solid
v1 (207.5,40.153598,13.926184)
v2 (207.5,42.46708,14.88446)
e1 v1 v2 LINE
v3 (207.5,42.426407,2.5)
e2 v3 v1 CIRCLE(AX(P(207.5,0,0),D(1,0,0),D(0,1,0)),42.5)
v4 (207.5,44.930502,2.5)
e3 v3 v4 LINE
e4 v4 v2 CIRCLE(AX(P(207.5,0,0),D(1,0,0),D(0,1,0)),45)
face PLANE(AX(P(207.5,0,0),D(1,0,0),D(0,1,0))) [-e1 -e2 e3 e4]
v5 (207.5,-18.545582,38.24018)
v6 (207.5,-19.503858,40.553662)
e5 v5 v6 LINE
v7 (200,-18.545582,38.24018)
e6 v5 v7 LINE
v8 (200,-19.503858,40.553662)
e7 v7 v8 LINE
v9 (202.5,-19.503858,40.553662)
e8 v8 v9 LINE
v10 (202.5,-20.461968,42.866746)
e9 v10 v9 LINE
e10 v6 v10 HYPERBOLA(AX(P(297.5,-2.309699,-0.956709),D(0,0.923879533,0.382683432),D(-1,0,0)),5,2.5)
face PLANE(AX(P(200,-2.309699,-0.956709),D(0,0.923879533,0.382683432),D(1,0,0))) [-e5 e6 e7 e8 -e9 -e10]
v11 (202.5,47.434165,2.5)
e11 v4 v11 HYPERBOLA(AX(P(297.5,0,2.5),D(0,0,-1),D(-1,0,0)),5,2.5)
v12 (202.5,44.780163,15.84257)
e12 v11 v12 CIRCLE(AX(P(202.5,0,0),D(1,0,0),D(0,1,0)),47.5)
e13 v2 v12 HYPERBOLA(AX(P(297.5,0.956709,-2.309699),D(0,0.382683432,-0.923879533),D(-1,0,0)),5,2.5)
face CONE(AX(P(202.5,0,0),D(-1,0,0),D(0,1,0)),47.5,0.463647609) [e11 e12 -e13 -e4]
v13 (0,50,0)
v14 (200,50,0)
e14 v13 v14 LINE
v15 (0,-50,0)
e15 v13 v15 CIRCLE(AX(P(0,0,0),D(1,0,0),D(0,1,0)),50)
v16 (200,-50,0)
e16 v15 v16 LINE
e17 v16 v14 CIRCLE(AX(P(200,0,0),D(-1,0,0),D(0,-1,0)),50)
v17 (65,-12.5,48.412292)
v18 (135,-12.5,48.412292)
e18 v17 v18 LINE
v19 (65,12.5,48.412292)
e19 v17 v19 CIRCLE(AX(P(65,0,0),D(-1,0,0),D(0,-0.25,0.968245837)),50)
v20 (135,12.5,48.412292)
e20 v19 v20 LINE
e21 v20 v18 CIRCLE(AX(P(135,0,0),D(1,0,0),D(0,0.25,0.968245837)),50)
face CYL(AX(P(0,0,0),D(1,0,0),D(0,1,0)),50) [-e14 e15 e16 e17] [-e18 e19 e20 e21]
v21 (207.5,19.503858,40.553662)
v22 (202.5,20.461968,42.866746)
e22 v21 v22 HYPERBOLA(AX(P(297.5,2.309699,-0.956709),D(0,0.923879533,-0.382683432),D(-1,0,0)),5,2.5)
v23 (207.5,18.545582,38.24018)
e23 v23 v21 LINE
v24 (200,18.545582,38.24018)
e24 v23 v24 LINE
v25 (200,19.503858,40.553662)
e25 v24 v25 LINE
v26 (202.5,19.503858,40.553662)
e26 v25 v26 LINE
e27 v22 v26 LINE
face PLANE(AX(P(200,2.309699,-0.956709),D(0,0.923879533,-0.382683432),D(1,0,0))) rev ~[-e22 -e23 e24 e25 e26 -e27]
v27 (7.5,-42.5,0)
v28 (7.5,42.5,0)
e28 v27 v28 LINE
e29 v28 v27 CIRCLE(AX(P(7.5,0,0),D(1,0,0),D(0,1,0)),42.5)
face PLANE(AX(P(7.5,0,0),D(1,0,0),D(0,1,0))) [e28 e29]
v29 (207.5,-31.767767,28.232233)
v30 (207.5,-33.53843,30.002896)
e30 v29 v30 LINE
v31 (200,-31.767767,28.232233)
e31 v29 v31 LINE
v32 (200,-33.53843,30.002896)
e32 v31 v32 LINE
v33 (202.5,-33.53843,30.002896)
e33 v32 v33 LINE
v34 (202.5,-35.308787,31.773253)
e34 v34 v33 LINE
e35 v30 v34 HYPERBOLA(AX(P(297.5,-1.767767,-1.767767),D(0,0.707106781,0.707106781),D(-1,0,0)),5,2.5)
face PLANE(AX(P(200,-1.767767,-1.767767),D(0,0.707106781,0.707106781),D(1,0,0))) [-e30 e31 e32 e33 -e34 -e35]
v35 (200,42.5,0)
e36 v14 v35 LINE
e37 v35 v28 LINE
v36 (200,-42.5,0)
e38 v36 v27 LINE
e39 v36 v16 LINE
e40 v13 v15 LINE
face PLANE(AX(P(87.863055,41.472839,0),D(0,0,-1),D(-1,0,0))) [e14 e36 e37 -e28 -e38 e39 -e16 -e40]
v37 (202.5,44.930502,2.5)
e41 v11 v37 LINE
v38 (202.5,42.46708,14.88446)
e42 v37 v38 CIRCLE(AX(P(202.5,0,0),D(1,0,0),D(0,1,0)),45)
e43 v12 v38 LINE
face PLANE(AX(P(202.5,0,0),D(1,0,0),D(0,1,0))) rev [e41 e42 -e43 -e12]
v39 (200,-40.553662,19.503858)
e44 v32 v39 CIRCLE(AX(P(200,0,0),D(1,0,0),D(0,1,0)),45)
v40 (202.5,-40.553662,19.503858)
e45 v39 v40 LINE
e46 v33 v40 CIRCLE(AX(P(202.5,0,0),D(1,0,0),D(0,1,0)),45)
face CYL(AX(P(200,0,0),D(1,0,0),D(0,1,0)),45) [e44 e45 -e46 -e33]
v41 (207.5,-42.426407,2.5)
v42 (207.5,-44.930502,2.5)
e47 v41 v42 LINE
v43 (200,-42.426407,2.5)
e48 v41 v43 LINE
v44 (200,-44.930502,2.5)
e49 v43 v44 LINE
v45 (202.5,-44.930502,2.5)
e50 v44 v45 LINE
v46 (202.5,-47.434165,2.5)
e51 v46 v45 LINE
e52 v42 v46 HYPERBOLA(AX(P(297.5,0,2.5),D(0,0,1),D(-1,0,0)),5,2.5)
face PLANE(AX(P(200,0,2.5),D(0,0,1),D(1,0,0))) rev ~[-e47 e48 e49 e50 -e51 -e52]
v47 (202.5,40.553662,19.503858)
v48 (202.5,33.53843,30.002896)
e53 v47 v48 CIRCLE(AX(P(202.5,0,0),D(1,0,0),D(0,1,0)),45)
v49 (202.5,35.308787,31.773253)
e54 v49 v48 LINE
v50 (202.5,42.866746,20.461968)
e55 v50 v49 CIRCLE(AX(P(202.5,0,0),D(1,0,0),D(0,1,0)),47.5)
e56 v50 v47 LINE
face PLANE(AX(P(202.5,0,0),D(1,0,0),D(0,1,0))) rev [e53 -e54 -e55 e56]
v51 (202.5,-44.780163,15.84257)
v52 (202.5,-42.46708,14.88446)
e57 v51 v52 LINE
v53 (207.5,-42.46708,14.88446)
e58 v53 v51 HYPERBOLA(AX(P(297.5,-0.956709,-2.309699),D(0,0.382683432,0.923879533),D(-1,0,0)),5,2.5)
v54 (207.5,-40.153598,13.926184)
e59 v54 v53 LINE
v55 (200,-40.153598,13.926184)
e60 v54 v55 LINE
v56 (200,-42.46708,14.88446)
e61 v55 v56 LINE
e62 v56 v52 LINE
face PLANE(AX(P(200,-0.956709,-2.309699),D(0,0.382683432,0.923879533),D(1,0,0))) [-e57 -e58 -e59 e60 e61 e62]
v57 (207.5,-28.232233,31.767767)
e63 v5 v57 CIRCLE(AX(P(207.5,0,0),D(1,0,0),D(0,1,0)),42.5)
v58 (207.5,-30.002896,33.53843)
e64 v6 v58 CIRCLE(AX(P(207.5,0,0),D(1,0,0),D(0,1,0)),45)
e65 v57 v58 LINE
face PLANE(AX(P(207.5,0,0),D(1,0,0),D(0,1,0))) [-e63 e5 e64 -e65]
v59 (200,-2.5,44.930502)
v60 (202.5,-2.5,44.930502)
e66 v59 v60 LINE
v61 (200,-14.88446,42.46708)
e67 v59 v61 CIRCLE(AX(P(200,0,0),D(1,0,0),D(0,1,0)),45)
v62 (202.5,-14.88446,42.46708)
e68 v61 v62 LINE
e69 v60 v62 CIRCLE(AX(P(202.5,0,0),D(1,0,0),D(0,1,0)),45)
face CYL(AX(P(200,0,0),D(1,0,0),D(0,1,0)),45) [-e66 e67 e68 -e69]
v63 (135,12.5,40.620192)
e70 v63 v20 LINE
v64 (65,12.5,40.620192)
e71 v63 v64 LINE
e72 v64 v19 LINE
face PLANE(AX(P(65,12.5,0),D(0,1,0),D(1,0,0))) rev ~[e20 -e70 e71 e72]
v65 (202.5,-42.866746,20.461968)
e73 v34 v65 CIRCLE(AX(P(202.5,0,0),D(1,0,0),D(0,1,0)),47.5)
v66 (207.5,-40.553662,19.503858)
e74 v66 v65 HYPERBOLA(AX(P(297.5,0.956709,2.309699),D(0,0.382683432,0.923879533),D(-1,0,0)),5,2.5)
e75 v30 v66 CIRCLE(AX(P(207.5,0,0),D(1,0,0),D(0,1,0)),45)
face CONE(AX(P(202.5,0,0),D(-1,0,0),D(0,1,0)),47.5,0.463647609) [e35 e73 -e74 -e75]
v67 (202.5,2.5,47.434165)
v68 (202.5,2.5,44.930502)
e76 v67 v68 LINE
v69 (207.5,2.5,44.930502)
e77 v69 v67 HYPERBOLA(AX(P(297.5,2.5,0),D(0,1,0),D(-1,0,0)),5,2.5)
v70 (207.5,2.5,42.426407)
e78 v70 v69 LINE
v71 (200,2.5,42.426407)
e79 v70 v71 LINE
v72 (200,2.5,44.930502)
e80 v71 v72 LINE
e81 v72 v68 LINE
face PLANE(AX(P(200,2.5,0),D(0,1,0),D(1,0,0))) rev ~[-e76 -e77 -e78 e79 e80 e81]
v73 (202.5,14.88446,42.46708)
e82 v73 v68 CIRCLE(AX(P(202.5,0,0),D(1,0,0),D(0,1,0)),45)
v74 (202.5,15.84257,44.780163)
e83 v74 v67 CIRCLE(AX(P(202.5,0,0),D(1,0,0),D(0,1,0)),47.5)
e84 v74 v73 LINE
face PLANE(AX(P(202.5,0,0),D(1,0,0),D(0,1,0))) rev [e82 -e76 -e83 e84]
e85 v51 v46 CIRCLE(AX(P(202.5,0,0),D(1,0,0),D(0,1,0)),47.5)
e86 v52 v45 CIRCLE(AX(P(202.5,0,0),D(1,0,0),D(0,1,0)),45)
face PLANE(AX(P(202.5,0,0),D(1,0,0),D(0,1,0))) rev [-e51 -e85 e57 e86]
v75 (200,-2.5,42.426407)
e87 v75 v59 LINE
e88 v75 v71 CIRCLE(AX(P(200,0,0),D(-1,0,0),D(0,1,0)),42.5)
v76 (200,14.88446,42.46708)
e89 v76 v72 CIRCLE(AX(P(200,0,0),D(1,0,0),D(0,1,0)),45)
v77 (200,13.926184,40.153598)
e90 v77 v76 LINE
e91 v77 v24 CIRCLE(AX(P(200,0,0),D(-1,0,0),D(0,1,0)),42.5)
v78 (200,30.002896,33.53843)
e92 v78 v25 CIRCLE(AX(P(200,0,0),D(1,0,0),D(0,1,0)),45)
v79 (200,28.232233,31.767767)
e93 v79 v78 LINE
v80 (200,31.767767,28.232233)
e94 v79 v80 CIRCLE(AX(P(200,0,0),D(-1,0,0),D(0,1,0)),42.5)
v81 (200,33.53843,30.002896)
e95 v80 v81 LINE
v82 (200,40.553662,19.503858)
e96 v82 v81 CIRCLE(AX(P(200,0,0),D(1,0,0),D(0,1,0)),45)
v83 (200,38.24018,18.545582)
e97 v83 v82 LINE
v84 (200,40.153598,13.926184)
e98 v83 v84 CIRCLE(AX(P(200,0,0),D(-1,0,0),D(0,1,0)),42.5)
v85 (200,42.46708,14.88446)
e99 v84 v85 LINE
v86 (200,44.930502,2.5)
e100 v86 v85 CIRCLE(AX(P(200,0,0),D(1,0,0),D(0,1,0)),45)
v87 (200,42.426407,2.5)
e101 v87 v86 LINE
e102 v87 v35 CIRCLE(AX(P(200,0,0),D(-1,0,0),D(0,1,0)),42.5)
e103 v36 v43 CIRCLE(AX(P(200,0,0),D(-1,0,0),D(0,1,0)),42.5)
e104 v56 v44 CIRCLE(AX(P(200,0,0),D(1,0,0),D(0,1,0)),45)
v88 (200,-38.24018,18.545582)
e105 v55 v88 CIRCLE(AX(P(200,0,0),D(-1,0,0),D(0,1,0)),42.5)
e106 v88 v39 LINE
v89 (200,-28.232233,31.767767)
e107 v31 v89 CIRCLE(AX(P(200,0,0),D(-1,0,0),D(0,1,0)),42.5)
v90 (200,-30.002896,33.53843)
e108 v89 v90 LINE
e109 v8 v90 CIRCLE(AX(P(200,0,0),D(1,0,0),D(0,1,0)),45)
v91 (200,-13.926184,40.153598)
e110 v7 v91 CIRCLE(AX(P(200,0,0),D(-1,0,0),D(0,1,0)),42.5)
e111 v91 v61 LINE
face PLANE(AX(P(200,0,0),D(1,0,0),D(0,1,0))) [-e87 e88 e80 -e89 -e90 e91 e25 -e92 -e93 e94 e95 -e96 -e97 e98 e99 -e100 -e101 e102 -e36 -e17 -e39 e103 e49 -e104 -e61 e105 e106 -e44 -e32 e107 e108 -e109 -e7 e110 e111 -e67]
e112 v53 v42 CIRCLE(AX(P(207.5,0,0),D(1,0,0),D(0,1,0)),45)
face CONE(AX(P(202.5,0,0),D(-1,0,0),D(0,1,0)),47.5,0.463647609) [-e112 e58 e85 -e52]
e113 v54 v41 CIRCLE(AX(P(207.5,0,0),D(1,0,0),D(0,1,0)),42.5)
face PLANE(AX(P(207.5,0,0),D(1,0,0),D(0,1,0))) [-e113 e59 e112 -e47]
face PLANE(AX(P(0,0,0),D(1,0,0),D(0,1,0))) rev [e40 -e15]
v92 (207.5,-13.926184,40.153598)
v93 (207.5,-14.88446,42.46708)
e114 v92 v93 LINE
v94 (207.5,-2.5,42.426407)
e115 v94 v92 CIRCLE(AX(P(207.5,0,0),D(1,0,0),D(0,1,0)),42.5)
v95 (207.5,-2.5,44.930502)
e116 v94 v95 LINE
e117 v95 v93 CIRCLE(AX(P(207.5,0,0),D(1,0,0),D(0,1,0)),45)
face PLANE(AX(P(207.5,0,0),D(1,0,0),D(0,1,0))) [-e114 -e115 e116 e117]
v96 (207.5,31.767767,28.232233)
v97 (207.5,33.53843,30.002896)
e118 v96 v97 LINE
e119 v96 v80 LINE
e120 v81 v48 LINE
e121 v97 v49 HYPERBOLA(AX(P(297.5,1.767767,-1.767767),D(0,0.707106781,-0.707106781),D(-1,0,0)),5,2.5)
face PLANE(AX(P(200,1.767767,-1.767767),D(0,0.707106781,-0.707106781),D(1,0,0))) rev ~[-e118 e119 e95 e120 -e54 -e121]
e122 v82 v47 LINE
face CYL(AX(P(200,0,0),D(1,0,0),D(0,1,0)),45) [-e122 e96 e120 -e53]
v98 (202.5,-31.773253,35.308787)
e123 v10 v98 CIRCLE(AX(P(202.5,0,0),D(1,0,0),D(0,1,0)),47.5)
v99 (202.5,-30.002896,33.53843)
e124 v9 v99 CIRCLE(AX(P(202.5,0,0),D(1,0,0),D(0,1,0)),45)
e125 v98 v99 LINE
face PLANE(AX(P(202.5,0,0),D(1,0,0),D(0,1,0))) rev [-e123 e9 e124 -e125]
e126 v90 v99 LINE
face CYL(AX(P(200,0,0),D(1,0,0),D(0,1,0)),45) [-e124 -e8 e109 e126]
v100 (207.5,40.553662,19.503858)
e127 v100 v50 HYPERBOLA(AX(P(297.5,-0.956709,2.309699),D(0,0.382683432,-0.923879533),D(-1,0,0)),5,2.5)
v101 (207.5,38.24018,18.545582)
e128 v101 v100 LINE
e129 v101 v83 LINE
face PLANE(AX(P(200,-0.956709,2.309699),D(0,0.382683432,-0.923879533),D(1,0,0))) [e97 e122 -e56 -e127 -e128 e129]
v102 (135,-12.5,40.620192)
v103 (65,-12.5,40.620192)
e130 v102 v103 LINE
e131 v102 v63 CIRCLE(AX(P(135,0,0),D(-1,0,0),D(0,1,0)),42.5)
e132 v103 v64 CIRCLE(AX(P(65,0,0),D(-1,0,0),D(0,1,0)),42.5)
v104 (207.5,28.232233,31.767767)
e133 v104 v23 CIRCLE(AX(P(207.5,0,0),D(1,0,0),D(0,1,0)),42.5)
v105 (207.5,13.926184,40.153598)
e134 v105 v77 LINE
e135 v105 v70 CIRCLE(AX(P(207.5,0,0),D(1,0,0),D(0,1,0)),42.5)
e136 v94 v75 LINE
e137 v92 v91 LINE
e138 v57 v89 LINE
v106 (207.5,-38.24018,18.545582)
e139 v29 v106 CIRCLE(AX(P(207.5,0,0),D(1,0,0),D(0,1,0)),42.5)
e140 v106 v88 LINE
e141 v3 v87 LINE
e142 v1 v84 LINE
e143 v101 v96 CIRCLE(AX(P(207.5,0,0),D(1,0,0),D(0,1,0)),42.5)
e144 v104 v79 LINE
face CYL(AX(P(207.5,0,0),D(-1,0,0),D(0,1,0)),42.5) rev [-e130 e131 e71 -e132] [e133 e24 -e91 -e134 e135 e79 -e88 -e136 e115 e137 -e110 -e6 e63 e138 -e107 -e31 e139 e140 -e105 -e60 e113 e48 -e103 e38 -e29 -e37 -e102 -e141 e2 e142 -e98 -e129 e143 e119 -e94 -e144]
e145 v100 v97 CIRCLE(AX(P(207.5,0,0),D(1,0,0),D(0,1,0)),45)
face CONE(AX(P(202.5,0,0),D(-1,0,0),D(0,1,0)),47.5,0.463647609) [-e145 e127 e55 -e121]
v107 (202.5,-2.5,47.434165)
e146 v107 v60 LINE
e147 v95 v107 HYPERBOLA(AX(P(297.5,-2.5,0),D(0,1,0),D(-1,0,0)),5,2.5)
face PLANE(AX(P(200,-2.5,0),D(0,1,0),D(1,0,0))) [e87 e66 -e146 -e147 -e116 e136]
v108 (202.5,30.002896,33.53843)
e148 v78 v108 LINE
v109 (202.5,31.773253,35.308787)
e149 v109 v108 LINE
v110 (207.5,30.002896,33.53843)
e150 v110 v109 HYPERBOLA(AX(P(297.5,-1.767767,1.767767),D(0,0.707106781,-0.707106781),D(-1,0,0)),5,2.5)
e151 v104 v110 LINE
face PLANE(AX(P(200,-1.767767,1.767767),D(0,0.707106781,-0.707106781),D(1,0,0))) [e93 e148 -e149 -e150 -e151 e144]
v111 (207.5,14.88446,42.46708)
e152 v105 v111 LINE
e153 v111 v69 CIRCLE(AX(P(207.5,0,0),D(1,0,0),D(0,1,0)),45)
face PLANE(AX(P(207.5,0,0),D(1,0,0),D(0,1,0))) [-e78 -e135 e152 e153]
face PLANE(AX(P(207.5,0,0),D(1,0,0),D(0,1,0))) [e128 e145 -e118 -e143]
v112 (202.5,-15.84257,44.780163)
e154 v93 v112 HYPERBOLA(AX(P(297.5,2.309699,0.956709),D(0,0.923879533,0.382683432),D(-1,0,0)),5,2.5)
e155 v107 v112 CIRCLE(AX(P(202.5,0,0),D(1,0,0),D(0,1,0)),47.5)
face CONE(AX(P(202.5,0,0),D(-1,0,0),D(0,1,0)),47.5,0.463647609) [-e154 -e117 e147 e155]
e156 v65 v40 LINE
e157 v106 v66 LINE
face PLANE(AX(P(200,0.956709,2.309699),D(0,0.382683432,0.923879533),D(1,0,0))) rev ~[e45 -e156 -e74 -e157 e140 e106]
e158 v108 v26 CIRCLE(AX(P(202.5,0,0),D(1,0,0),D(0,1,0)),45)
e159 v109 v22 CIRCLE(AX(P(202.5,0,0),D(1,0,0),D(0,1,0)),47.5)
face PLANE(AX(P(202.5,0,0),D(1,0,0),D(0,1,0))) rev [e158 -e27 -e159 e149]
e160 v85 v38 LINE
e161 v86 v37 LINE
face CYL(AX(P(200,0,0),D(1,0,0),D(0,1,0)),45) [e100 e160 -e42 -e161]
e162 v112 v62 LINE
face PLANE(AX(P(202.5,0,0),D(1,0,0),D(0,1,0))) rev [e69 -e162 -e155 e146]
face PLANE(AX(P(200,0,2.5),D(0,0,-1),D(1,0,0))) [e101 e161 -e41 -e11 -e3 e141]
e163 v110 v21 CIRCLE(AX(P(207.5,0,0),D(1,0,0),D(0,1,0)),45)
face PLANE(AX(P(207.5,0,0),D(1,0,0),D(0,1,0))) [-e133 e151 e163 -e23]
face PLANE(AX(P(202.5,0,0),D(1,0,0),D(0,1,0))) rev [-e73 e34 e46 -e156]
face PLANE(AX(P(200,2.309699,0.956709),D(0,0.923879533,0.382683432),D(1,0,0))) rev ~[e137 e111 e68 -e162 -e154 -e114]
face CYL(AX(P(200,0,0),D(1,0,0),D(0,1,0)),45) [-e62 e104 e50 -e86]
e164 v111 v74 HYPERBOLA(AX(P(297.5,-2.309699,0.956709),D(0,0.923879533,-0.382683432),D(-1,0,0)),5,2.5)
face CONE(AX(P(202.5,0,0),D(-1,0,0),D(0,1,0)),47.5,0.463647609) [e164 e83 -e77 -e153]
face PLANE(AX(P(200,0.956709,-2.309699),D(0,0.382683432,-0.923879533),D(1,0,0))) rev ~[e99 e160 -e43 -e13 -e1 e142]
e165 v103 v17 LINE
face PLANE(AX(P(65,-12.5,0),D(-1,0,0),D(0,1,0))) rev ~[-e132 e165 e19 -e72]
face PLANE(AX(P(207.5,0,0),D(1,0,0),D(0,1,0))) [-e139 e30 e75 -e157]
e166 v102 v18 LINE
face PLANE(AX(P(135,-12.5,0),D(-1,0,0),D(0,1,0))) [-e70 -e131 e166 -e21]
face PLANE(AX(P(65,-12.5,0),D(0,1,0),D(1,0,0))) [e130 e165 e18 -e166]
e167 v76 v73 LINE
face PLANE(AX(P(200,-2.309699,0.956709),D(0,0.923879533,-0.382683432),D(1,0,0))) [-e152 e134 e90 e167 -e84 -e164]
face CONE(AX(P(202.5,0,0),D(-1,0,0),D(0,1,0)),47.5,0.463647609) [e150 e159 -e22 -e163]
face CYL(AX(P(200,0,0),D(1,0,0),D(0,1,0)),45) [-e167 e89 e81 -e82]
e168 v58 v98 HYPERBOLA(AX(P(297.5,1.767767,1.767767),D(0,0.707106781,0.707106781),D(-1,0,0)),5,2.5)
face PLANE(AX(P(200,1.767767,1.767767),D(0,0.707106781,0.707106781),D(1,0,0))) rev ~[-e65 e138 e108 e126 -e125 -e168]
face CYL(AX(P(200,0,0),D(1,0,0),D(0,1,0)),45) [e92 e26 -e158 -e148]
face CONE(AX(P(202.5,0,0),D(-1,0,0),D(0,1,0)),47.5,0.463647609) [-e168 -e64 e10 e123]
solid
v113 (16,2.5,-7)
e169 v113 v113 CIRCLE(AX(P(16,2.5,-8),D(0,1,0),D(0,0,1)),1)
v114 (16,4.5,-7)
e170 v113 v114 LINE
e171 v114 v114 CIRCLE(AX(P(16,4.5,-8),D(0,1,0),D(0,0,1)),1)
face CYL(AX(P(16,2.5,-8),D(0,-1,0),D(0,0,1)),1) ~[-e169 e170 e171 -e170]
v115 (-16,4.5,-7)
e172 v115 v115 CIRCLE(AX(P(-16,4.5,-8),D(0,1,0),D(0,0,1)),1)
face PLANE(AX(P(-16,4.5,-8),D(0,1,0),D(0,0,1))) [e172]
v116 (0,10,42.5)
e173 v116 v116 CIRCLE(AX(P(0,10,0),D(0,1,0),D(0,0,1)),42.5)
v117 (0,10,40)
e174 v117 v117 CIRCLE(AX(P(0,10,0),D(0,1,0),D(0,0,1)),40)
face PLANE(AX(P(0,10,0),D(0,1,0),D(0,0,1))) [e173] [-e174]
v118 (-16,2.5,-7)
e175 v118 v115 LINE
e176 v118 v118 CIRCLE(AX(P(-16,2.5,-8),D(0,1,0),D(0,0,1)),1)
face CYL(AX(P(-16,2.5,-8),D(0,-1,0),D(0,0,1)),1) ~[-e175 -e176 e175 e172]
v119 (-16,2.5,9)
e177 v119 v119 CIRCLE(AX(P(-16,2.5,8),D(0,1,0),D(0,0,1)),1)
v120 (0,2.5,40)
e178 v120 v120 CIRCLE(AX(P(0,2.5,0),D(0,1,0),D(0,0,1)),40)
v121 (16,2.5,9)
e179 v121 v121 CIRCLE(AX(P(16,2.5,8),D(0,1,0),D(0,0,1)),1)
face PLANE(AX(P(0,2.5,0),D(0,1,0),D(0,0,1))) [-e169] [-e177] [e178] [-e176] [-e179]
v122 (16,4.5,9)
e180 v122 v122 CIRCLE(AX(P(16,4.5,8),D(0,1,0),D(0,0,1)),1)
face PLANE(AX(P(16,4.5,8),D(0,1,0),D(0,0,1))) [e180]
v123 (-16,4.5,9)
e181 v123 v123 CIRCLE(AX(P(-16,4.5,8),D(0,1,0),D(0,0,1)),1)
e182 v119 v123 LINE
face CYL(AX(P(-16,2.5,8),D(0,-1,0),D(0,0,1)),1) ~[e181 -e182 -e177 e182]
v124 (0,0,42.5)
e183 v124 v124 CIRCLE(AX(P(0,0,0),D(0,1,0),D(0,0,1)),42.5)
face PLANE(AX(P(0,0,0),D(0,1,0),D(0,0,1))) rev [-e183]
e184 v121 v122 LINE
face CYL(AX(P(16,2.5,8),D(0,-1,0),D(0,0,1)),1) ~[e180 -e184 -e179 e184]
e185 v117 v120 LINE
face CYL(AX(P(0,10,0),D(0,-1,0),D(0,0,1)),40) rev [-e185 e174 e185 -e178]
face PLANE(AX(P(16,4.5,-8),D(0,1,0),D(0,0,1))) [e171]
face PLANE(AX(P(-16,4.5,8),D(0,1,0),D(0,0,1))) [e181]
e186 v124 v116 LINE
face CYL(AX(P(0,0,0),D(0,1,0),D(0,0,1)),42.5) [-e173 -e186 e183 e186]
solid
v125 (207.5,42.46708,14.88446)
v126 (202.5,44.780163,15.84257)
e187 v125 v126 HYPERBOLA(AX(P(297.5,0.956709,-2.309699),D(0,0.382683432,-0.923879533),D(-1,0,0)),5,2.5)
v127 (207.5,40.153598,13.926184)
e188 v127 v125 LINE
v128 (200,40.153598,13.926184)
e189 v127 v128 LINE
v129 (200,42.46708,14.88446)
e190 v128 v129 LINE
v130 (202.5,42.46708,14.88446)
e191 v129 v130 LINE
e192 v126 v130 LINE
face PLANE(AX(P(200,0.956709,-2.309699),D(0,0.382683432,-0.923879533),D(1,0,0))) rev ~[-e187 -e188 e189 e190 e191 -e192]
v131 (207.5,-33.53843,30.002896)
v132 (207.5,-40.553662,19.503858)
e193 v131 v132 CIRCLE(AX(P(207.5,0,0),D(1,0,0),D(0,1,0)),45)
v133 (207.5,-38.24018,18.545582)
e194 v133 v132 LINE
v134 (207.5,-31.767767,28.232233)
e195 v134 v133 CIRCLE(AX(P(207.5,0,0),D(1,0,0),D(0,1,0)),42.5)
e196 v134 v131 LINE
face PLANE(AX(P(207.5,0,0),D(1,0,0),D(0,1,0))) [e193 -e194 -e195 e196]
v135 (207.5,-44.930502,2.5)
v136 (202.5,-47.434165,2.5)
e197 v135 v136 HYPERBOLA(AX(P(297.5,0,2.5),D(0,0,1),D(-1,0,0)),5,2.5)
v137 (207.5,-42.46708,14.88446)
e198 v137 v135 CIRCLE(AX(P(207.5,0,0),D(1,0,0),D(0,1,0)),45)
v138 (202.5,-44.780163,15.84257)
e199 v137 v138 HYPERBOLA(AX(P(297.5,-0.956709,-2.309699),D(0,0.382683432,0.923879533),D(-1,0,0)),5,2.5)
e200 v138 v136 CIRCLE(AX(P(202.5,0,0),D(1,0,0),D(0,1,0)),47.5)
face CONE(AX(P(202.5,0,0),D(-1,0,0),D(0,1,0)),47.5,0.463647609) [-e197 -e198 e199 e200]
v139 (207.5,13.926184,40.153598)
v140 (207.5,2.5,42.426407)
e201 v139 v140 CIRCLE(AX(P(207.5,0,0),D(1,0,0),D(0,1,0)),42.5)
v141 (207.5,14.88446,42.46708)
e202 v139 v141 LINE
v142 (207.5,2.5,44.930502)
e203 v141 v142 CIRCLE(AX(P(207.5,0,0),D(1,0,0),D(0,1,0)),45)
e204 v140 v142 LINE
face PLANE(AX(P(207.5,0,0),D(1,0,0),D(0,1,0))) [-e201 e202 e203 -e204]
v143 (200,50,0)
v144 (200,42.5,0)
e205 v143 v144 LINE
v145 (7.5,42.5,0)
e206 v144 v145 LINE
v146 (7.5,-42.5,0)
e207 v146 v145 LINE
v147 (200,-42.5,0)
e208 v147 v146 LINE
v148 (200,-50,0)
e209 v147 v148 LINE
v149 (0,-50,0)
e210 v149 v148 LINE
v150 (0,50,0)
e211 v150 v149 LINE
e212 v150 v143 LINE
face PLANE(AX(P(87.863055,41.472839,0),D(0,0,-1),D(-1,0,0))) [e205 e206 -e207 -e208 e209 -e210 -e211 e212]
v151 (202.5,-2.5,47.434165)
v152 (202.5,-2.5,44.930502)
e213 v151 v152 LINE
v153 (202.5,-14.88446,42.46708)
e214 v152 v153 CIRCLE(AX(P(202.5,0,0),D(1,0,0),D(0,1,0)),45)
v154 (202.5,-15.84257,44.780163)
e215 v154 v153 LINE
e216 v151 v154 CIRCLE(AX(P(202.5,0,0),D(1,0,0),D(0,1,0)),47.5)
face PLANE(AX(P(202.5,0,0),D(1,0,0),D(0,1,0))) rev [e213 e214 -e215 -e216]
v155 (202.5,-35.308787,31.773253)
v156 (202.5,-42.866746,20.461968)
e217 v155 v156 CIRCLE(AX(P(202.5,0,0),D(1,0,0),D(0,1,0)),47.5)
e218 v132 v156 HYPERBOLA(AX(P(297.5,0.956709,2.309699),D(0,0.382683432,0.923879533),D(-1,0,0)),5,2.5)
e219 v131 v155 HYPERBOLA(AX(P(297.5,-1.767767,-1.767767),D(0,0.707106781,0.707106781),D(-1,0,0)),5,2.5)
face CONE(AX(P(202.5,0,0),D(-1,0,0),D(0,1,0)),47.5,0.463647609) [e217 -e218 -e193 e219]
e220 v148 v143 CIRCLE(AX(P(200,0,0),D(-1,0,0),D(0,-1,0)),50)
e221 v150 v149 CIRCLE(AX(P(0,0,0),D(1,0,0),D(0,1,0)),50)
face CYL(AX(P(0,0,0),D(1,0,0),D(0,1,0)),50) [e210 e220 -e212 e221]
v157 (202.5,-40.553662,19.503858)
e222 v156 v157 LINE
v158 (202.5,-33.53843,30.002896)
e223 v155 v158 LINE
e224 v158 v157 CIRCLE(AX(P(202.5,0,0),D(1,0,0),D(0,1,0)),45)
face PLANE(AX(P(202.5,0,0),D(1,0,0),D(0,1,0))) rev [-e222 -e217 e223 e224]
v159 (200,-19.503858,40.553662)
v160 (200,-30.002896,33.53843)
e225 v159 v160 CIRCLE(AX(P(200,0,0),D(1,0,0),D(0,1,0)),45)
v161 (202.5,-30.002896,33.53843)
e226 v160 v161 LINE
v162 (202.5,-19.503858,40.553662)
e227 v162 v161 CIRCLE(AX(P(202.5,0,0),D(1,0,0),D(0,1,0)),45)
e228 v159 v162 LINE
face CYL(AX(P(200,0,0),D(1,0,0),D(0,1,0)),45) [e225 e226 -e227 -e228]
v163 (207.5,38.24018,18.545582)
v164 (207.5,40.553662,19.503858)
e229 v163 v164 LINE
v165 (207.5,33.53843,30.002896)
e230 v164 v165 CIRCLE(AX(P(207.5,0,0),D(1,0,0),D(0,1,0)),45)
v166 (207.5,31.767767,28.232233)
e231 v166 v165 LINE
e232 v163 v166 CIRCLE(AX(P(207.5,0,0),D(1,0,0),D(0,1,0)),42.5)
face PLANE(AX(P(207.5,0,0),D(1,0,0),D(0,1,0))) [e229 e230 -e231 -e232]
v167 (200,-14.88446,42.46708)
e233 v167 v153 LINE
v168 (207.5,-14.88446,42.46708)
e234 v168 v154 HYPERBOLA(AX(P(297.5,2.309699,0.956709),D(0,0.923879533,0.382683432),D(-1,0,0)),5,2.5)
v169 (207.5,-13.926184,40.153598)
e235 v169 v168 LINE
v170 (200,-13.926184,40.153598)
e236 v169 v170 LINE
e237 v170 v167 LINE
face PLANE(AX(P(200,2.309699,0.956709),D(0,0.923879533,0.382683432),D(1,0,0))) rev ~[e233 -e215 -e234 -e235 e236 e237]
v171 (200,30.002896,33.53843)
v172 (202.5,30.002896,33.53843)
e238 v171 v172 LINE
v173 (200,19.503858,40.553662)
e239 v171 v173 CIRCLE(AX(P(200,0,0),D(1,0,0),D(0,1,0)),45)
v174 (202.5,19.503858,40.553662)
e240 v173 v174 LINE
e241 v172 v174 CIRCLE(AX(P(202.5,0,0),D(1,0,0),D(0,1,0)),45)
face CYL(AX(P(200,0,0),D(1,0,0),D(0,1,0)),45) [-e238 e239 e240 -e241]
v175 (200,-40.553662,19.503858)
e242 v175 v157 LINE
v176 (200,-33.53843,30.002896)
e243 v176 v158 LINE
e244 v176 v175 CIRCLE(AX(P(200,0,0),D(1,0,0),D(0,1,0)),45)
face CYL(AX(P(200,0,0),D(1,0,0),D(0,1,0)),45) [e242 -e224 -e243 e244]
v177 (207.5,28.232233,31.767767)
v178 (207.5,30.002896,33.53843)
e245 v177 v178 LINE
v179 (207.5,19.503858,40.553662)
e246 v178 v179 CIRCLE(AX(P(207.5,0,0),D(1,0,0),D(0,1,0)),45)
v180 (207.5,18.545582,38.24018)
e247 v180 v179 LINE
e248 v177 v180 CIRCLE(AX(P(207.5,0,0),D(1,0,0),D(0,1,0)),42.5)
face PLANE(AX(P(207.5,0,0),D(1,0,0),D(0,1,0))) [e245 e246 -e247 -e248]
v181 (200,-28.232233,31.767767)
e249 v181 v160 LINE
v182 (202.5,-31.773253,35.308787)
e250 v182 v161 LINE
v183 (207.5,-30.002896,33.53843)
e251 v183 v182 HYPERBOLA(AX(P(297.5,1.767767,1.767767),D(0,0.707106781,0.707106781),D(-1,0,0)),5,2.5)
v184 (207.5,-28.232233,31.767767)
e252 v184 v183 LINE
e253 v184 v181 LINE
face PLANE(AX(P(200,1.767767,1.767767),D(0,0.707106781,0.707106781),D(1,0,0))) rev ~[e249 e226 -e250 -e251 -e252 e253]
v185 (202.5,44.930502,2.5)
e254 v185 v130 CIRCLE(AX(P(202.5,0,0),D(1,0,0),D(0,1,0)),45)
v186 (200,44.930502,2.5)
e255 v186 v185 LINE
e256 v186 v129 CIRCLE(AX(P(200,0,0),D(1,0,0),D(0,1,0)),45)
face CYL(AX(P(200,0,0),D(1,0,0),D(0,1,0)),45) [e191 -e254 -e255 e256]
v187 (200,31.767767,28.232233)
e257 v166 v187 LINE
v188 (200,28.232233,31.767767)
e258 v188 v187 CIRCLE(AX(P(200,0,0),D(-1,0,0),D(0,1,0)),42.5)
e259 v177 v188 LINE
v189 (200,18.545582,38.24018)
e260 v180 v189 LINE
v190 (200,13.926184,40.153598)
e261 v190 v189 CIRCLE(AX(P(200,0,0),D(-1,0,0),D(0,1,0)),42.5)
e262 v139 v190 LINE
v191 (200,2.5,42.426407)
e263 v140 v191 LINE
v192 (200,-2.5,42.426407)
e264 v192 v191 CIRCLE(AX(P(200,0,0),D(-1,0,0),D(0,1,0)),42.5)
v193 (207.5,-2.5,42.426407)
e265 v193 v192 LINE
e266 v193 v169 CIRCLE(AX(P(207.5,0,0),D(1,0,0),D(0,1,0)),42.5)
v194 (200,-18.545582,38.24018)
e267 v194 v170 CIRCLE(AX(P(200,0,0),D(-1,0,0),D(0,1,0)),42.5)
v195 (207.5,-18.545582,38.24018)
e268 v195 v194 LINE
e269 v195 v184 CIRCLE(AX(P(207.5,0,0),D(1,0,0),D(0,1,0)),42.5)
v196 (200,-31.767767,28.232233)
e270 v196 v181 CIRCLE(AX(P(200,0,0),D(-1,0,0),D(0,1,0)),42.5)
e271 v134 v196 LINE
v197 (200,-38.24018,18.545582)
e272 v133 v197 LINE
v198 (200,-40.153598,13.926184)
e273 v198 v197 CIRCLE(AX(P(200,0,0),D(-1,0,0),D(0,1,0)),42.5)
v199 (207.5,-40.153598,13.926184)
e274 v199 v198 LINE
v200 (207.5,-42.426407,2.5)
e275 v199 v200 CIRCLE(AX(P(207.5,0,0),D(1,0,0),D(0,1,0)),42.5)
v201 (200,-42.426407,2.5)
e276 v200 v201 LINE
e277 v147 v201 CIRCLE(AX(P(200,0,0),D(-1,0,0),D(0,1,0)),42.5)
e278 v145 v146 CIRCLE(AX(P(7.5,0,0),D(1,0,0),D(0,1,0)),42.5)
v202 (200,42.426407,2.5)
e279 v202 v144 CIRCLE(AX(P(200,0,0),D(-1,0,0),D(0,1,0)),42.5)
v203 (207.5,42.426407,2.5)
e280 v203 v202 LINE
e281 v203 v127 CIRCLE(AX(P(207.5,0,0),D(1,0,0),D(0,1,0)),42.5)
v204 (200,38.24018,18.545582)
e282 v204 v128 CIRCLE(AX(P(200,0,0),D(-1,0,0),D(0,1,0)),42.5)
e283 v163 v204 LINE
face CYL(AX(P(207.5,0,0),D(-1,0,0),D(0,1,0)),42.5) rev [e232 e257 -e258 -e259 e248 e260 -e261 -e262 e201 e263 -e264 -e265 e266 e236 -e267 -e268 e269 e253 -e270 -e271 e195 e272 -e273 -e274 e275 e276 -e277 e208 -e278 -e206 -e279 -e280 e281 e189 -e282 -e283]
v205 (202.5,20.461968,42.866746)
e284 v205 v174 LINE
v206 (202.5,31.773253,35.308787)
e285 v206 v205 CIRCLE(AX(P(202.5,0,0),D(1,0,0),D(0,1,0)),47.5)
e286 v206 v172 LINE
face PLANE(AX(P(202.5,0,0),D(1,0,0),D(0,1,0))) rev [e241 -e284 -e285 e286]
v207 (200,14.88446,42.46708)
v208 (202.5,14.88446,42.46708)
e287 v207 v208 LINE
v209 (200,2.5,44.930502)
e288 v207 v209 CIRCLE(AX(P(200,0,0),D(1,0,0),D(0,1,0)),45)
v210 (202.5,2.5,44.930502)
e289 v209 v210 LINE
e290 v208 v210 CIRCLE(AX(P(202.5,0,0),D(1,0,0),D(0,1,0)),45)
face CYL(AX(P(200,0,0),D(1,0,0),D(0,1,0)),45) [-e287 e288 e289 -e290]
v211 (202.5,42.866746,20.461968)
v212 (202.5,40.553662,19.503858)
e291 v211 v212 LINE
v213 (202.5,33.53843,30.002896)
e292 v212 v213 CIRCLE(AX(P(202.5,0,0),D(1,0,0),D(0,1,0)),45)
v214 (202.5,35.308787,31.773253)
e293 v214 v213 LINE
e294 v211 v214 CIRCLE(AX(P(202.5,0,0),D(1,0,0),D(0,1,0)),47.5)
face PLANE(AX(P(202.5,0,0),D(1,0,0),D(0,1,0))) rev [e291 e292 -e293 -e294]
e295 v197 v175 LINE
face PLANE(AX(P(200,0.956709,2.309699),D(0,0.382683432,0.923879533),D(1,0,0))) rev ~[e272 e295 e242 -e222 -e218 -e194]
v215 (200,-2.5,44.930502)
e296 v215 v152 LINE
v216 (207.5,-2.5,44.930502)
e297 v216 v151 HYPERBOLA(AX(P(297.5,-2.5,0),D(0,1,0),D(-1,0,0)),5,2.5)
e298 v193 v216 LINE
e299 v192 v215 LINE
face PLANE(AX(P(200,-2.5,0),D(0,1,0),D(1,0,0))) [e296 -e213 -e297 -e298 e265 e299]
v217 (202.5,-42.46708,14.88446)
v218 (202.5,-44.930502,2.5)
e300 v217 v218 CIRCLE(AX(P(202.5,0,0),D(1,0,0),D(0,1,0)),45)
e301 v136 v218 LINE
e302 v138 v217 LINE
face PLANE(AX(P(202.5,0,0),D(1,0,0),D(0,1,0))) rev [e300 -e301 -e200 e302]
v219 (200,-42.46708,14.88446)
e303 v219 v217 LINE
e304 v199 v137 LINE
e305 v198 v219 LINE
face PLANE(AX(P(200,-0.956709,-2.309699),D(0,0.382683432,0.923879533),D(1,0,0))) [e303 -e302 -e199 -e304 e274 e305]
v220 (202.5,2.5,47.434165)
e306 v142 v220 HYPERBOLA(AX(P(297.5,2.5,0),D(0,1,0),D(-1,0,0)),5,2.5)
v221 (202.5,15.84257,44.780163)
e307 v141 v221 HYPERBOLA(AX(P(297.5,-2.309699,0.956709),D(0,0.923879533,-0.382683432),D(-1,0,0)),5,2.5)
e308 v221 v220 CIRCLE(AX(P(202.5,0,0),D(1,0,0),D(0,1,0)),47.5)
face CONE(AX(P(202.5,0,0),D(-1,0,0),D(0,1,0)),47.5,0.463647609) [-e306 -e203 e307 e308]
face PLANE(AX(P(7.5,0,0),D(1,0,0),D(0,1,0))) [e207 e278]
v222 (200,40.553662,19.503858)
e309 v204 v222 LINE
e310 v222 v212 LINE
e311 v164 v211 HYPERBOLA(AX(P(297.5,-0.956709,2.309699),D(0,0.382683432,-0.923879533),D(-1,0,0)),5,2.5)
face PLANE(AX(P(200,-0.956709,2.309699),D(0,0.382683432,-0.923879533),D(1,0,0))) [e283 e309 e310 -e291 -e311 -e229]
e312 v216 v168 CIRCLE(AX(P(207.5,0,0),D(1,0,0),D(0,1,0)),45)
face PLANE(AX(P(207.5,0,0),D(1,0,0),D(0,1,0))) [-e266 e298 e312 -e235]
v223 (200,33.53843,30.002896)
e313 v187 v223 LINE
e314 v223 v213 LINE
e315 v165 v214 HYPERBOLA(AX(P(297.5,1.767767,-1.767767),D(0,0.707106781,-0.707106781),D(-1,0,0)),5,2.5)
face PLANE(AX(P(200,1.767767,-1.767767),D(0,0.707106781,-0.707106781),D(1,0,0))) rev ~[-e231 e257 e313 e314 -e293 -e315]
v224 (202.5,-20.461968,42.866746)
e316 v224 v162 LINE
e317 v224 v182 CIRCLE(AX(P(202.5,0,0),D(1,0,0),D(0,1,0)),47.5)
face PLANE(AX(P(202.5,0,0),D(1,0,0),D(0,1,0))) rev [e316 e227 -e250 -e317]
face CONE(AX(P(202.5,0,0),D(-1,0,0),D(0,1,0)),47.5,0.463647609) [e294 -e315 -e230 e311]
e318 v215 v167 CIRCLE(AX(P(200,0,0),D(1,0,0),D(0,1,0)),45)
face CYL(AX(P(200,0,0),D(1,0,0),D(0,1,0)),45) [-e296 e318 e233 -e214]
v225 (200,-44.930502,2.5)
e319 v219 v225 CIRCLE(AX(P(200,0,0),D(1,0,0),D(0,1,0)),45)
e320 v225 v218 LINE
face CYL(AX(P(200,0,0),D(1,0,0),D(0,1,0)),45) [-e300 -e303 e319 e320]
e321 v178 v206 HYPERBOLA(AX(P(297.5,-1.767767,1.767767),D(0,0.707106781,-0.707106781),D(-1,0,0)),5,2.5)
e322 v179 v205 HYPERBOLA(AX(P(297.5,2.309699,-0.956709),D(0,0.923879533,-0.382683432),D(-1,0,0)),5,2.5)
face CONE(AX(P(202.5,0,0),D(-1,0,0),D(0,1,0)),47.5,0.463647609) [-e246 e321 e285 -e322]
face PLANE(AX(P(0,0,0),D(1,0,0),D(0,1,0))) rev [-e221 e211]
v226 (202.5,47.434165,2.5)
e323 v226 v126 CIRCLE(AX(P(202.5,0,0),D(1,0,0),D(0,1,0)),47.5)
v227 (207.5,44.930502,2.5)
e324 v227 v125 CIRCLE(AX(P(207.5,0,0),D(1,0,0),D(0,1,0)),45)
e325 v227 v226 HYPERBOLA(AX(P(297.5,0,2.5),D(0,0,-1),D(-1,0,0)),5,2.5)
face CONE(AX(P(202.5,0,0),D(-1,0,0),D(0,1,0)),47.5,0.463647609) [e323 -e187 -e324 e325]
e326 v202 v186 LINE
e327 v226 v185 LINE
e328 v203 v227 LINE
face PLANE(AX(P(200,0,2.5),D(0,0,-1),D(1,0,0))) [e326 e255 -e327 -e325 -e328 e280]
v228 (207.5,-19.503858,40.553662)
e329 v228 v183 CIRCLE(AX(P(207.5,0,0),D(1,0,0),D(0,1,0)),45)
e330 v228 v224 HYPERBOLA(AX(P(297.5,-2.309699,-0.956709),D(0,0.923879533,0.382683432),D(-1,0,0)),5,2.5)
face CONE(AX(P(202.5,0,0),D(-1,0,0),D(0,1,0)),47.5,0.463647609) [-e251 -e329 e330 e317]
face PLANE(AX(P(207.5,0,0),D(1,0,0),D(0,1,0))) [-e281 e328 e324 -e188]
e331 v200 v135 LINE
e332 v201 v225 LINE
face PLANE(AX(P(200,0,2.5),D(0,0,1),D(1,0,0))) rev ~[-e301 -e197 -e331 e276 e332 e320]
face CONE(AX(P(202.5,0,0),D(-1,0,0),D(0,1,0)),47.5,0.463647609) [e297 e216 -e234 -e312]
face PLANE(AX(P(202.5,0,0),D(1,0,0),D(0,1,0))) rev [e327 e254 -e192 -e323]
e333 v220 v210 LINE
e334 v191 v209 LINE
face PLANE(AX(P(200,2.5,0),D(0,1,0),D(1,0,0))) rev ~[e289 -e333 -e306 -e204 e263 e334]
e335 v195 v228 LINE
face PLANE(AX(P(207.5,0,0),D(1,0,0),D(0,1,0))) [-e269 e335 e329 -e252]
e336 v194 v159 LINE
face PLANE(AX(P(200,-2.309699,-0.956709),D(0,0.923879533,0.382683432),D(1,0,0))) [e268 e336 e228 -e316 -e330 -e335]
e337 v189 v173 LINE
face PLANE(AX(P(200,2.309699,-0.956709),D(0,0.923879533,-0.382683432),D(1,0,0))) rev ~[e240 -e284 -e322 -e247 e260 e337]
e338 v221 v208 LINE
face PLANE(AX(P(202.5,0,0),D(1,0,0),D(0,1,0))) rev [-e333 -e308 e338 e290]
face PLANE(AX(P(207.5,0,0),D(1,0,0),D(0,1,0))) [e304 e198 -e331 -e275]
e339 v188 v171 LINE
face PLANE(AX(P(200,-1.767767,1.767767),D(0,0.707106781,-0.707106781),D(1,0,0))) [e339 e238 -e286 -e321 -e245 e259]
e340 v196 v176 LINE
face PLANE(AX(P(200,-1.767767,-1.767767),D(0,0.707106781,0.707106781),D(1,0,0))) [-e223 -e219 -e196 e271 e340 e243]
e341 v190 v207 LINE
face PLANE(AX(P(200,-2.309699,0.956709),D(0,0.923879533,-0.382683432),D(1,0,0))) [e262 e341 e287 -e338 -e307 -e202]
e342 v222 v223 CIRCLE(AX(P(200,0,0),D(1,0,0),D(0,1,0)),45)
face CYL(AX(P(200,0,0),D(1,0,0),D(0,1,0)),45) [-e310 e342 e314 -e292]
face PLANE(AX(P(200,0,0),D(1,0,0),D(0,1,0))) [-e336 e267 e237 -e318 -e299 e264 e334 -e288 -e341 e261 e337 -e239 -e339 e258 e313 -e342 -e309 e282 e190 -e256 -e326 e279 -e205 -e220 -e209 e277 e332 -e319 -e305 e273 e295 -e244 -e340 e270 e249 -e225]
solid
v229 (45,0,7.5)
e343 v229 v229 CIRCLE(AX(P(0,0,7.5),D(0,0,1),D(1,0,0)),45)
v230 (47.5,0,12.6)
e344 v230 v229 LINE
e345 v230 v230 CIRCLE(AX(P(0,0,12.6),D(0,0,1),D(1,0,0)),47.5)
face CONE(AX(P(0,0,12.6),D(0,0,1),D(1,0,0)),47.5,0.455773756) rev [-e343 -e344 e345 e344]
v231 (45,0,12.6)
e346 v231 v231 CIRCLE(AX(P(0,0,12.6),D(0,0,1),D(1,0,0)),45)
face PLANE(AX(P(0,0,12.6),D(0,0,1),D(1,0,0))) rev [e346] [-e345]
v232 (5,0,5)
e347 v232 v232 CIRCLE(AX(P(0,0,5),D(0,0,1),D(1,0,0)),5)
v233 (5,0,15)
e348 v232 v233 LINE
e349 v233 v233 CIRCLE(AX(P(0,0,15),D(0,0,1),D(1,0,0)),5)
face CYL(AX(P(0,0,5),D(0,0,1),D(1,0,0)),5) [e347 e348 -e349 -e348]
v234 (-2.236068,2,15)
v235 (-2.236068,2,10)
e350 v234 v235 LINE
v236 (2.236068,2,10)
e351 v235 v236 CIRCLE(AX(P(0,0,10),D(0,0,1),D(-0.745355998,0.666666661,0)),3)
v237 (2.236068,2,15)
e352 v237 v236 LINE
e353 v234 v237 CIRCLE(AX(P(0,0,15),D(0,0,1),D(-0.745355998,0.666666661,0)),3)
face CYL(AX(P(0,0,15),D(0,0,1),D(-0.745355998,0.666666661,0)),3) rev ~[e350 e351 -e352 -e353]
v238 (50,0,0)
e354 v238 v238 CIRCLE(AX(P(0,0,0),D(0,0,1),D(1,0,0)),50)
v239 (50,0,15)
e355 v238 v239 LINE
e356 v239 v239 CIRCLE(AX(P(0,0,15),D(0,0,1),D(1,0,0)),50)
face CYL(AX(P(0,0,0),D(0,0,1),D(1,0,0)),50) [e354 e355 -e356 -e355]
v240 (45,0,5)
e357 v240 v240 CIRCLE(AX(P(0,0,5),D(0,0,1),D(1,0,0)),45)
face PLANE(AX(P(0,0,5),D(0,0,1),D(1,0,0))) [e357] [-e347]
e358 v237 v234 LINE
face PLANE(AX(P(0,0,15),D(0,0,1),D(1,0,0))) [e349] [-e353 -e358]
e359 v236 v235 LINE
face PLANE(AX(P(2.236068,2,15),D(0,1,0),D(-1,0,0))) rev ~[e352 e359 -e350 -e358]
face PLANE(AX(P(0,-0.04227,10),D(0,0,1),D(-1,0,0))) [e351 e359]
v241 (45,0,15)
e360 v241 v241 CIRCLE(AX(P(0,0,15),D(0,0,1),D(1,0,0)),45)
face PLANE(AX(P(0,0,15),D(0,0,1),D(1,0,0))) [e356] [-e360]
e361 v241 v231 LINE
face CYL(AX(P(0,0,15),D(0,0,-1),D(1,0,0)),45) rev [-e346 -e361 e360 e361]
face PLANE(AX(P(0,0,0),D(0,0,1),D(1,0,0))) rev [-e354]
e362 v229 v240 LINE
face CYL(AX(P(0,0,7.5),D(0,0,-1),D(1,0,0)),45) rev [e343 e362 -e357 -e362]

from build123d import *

# Parameters (mm, degrees)
POCKET_DEPTH          = 5
REVOLUTION002_ANGLE   = 180
SKETCH004_W           = 70
SKETCH004_H           = 25
POCKET001_DEPTH       = 50
SKETCH005_W           = 10
SKETCH005_H           = 5
POCKET002_DEPTH       = 521.408467
POLARPATTERN_COUNT    = 16
REVOLUTION003_ANGLE   = 180
SKETCH008_W           = 10
SKETCH008_H           = 5
POCKET004_DEPTH       = 521.408467
POLARPATTERN001_COUNT = 16
SKETCH009_R           = 1
PAD_DEPTH             = 2


with BuildPart() as cap:
    # Sketch001 → Revolution001 (revolve)
    with BuildSketch(Plane.XZ):
        Polygon((0, 0), (50, 0), (50, 15), (45, 15), (45, 12.6), (47.5, 12.6), (45, 7.5), (45, 5), (5, 5), (5, 15), (0, 15), align=None)
    revolve(axis=Axis((0, 0, 0), (0, 0, 1)))

    # Sketch002 (on Face10 of Revolution001) → Pocket (cut)
    with BuildSketch(Plane(origin=(0, 0, 15), x_dir=(-1, 0, 0), z_dir=(0, 0, 1))):
        with BuildLine():
            Line((-2.236068, -2), (2.236068, -2))
            ThreePointArc((2.236068, -2), (0, 3), (-2.236068, -2))
        make_face()
    extrude(amount=-POCKET_DEPTH, mode=Mode.SUBTRACT)


with BuildPart() as body002:
    # Sketch003 → Revolution002 (revolve)
    with BuildSketch(Plane.XY):
        Polygon((0, 0), (0, 50), (200, 50), (200, 45), (202.5, 45), (202.5, 47.5), (207.5, 45), (207.5, 42.5), (7.5, 42.5), (7.5, 0), align=None)
    revolve(axis=Axis((0, 0, 0), (1, 0, 0)), revolution_arc=REVOLUTION002_ANGLE)

    # Sketch004 → Pocket001 (cut)
    with BuildSketch(Plane.XY):
        with Locations((100, 0)):
            Rectangle(SKETCH004_W, SKETCH004_H)
    extrude(amount=POCKET001_DEPTH, mode=Mode.SUBTRACT)

    # Sketch005 → Pocket002 (cut, through all)
    with BuildSketch(Plane.XY):
        with Locations((205, 0)):
            Rectangle(SKETCH005_W, SKETCH005_H)
    pocket002 = extrude(amount=POCKET002_DEPTH, mode=Mode.SUBTRACT)

    # PolarPattern: Pocket002 ×16 about axis
    polarpattern_axis = Axis((0, 0, 0), (1, 0, 0))
    for i in range(1, POLARPATTERN_COUNT):
        add(pocket002.rotate(polarpattern_axis, i * 360 / POLARPATTERN_COUNT), mode=Mode.SUBTRACT)


with BuildPart() as body003:
    # Sketch006 → Revolution003 (revolve)
    with BuildSketch(Plane.XY):
        Polygon((0, 0), (0, 50), (200, 50), (200, 45), (202.5, 45), (202.5, 47.5), (207.5, 45), (207.5, 42.5), (7.5, 42.5), (7.5, 0), align=None)
    revolve(axis=Axis((0, 0, 0), (1, 0, 0)), revolution_arc=REVOLUTION003_ANGLE)

    # Sketch008 → Pocket004 (cut, through all)
    with BuildSketch(Plane.XY):
        with Locations((205, 0)):
            Rectangle(SKETCH008_W, SKETCH008_H)
    pocket004 = extrude(amount=POCKET004_DEPTH, mode=Mode.SUBTRACT)

    # PolarPattern001: Pocket004 ×16 about axis
    polarpattern001_axis = Axis((0, 0, 0), (1, 0, 0))
    for i in range(1, POLARPATTERN001_COUNT):
        add(pocket004.rotate(polarpattern001_axis, i * 360 / POLARPATTERN001_COUNT), mode=Mode.SUBTRACT)


with BuildPart() as holder:
    # Sketch → Revolution (revolve)
    with BuildSketch(Plane.YZ):
        Polygon((0, 0), (0, 42.5), (10, 42.5), (10, 40), (2.5, 40), (2.5, 0), align=None)
    revolve(axis=Axis((0, 0, 0), (0, 1, 0)))

    # Sketch009 (on Face5 of Revolution) → Pad (new body)
    with BuildSketch(Plane.ZX.offset(2.5)):
        with Locations((8, 16)):
            Circle(SKETCH009_R)
        with Locations((8, -16)):
            Circle(SKETCH009_R)
        with Locations((-8, -16)):
            Circle(SKETCH009_R)
        with Locations((-8, 16)):
            Circle(SKETCH009_R)
    extrude(amount=PAD_DEPTH)


solid = Compound([cap.part, body002.part, body003.part, holder.part])
